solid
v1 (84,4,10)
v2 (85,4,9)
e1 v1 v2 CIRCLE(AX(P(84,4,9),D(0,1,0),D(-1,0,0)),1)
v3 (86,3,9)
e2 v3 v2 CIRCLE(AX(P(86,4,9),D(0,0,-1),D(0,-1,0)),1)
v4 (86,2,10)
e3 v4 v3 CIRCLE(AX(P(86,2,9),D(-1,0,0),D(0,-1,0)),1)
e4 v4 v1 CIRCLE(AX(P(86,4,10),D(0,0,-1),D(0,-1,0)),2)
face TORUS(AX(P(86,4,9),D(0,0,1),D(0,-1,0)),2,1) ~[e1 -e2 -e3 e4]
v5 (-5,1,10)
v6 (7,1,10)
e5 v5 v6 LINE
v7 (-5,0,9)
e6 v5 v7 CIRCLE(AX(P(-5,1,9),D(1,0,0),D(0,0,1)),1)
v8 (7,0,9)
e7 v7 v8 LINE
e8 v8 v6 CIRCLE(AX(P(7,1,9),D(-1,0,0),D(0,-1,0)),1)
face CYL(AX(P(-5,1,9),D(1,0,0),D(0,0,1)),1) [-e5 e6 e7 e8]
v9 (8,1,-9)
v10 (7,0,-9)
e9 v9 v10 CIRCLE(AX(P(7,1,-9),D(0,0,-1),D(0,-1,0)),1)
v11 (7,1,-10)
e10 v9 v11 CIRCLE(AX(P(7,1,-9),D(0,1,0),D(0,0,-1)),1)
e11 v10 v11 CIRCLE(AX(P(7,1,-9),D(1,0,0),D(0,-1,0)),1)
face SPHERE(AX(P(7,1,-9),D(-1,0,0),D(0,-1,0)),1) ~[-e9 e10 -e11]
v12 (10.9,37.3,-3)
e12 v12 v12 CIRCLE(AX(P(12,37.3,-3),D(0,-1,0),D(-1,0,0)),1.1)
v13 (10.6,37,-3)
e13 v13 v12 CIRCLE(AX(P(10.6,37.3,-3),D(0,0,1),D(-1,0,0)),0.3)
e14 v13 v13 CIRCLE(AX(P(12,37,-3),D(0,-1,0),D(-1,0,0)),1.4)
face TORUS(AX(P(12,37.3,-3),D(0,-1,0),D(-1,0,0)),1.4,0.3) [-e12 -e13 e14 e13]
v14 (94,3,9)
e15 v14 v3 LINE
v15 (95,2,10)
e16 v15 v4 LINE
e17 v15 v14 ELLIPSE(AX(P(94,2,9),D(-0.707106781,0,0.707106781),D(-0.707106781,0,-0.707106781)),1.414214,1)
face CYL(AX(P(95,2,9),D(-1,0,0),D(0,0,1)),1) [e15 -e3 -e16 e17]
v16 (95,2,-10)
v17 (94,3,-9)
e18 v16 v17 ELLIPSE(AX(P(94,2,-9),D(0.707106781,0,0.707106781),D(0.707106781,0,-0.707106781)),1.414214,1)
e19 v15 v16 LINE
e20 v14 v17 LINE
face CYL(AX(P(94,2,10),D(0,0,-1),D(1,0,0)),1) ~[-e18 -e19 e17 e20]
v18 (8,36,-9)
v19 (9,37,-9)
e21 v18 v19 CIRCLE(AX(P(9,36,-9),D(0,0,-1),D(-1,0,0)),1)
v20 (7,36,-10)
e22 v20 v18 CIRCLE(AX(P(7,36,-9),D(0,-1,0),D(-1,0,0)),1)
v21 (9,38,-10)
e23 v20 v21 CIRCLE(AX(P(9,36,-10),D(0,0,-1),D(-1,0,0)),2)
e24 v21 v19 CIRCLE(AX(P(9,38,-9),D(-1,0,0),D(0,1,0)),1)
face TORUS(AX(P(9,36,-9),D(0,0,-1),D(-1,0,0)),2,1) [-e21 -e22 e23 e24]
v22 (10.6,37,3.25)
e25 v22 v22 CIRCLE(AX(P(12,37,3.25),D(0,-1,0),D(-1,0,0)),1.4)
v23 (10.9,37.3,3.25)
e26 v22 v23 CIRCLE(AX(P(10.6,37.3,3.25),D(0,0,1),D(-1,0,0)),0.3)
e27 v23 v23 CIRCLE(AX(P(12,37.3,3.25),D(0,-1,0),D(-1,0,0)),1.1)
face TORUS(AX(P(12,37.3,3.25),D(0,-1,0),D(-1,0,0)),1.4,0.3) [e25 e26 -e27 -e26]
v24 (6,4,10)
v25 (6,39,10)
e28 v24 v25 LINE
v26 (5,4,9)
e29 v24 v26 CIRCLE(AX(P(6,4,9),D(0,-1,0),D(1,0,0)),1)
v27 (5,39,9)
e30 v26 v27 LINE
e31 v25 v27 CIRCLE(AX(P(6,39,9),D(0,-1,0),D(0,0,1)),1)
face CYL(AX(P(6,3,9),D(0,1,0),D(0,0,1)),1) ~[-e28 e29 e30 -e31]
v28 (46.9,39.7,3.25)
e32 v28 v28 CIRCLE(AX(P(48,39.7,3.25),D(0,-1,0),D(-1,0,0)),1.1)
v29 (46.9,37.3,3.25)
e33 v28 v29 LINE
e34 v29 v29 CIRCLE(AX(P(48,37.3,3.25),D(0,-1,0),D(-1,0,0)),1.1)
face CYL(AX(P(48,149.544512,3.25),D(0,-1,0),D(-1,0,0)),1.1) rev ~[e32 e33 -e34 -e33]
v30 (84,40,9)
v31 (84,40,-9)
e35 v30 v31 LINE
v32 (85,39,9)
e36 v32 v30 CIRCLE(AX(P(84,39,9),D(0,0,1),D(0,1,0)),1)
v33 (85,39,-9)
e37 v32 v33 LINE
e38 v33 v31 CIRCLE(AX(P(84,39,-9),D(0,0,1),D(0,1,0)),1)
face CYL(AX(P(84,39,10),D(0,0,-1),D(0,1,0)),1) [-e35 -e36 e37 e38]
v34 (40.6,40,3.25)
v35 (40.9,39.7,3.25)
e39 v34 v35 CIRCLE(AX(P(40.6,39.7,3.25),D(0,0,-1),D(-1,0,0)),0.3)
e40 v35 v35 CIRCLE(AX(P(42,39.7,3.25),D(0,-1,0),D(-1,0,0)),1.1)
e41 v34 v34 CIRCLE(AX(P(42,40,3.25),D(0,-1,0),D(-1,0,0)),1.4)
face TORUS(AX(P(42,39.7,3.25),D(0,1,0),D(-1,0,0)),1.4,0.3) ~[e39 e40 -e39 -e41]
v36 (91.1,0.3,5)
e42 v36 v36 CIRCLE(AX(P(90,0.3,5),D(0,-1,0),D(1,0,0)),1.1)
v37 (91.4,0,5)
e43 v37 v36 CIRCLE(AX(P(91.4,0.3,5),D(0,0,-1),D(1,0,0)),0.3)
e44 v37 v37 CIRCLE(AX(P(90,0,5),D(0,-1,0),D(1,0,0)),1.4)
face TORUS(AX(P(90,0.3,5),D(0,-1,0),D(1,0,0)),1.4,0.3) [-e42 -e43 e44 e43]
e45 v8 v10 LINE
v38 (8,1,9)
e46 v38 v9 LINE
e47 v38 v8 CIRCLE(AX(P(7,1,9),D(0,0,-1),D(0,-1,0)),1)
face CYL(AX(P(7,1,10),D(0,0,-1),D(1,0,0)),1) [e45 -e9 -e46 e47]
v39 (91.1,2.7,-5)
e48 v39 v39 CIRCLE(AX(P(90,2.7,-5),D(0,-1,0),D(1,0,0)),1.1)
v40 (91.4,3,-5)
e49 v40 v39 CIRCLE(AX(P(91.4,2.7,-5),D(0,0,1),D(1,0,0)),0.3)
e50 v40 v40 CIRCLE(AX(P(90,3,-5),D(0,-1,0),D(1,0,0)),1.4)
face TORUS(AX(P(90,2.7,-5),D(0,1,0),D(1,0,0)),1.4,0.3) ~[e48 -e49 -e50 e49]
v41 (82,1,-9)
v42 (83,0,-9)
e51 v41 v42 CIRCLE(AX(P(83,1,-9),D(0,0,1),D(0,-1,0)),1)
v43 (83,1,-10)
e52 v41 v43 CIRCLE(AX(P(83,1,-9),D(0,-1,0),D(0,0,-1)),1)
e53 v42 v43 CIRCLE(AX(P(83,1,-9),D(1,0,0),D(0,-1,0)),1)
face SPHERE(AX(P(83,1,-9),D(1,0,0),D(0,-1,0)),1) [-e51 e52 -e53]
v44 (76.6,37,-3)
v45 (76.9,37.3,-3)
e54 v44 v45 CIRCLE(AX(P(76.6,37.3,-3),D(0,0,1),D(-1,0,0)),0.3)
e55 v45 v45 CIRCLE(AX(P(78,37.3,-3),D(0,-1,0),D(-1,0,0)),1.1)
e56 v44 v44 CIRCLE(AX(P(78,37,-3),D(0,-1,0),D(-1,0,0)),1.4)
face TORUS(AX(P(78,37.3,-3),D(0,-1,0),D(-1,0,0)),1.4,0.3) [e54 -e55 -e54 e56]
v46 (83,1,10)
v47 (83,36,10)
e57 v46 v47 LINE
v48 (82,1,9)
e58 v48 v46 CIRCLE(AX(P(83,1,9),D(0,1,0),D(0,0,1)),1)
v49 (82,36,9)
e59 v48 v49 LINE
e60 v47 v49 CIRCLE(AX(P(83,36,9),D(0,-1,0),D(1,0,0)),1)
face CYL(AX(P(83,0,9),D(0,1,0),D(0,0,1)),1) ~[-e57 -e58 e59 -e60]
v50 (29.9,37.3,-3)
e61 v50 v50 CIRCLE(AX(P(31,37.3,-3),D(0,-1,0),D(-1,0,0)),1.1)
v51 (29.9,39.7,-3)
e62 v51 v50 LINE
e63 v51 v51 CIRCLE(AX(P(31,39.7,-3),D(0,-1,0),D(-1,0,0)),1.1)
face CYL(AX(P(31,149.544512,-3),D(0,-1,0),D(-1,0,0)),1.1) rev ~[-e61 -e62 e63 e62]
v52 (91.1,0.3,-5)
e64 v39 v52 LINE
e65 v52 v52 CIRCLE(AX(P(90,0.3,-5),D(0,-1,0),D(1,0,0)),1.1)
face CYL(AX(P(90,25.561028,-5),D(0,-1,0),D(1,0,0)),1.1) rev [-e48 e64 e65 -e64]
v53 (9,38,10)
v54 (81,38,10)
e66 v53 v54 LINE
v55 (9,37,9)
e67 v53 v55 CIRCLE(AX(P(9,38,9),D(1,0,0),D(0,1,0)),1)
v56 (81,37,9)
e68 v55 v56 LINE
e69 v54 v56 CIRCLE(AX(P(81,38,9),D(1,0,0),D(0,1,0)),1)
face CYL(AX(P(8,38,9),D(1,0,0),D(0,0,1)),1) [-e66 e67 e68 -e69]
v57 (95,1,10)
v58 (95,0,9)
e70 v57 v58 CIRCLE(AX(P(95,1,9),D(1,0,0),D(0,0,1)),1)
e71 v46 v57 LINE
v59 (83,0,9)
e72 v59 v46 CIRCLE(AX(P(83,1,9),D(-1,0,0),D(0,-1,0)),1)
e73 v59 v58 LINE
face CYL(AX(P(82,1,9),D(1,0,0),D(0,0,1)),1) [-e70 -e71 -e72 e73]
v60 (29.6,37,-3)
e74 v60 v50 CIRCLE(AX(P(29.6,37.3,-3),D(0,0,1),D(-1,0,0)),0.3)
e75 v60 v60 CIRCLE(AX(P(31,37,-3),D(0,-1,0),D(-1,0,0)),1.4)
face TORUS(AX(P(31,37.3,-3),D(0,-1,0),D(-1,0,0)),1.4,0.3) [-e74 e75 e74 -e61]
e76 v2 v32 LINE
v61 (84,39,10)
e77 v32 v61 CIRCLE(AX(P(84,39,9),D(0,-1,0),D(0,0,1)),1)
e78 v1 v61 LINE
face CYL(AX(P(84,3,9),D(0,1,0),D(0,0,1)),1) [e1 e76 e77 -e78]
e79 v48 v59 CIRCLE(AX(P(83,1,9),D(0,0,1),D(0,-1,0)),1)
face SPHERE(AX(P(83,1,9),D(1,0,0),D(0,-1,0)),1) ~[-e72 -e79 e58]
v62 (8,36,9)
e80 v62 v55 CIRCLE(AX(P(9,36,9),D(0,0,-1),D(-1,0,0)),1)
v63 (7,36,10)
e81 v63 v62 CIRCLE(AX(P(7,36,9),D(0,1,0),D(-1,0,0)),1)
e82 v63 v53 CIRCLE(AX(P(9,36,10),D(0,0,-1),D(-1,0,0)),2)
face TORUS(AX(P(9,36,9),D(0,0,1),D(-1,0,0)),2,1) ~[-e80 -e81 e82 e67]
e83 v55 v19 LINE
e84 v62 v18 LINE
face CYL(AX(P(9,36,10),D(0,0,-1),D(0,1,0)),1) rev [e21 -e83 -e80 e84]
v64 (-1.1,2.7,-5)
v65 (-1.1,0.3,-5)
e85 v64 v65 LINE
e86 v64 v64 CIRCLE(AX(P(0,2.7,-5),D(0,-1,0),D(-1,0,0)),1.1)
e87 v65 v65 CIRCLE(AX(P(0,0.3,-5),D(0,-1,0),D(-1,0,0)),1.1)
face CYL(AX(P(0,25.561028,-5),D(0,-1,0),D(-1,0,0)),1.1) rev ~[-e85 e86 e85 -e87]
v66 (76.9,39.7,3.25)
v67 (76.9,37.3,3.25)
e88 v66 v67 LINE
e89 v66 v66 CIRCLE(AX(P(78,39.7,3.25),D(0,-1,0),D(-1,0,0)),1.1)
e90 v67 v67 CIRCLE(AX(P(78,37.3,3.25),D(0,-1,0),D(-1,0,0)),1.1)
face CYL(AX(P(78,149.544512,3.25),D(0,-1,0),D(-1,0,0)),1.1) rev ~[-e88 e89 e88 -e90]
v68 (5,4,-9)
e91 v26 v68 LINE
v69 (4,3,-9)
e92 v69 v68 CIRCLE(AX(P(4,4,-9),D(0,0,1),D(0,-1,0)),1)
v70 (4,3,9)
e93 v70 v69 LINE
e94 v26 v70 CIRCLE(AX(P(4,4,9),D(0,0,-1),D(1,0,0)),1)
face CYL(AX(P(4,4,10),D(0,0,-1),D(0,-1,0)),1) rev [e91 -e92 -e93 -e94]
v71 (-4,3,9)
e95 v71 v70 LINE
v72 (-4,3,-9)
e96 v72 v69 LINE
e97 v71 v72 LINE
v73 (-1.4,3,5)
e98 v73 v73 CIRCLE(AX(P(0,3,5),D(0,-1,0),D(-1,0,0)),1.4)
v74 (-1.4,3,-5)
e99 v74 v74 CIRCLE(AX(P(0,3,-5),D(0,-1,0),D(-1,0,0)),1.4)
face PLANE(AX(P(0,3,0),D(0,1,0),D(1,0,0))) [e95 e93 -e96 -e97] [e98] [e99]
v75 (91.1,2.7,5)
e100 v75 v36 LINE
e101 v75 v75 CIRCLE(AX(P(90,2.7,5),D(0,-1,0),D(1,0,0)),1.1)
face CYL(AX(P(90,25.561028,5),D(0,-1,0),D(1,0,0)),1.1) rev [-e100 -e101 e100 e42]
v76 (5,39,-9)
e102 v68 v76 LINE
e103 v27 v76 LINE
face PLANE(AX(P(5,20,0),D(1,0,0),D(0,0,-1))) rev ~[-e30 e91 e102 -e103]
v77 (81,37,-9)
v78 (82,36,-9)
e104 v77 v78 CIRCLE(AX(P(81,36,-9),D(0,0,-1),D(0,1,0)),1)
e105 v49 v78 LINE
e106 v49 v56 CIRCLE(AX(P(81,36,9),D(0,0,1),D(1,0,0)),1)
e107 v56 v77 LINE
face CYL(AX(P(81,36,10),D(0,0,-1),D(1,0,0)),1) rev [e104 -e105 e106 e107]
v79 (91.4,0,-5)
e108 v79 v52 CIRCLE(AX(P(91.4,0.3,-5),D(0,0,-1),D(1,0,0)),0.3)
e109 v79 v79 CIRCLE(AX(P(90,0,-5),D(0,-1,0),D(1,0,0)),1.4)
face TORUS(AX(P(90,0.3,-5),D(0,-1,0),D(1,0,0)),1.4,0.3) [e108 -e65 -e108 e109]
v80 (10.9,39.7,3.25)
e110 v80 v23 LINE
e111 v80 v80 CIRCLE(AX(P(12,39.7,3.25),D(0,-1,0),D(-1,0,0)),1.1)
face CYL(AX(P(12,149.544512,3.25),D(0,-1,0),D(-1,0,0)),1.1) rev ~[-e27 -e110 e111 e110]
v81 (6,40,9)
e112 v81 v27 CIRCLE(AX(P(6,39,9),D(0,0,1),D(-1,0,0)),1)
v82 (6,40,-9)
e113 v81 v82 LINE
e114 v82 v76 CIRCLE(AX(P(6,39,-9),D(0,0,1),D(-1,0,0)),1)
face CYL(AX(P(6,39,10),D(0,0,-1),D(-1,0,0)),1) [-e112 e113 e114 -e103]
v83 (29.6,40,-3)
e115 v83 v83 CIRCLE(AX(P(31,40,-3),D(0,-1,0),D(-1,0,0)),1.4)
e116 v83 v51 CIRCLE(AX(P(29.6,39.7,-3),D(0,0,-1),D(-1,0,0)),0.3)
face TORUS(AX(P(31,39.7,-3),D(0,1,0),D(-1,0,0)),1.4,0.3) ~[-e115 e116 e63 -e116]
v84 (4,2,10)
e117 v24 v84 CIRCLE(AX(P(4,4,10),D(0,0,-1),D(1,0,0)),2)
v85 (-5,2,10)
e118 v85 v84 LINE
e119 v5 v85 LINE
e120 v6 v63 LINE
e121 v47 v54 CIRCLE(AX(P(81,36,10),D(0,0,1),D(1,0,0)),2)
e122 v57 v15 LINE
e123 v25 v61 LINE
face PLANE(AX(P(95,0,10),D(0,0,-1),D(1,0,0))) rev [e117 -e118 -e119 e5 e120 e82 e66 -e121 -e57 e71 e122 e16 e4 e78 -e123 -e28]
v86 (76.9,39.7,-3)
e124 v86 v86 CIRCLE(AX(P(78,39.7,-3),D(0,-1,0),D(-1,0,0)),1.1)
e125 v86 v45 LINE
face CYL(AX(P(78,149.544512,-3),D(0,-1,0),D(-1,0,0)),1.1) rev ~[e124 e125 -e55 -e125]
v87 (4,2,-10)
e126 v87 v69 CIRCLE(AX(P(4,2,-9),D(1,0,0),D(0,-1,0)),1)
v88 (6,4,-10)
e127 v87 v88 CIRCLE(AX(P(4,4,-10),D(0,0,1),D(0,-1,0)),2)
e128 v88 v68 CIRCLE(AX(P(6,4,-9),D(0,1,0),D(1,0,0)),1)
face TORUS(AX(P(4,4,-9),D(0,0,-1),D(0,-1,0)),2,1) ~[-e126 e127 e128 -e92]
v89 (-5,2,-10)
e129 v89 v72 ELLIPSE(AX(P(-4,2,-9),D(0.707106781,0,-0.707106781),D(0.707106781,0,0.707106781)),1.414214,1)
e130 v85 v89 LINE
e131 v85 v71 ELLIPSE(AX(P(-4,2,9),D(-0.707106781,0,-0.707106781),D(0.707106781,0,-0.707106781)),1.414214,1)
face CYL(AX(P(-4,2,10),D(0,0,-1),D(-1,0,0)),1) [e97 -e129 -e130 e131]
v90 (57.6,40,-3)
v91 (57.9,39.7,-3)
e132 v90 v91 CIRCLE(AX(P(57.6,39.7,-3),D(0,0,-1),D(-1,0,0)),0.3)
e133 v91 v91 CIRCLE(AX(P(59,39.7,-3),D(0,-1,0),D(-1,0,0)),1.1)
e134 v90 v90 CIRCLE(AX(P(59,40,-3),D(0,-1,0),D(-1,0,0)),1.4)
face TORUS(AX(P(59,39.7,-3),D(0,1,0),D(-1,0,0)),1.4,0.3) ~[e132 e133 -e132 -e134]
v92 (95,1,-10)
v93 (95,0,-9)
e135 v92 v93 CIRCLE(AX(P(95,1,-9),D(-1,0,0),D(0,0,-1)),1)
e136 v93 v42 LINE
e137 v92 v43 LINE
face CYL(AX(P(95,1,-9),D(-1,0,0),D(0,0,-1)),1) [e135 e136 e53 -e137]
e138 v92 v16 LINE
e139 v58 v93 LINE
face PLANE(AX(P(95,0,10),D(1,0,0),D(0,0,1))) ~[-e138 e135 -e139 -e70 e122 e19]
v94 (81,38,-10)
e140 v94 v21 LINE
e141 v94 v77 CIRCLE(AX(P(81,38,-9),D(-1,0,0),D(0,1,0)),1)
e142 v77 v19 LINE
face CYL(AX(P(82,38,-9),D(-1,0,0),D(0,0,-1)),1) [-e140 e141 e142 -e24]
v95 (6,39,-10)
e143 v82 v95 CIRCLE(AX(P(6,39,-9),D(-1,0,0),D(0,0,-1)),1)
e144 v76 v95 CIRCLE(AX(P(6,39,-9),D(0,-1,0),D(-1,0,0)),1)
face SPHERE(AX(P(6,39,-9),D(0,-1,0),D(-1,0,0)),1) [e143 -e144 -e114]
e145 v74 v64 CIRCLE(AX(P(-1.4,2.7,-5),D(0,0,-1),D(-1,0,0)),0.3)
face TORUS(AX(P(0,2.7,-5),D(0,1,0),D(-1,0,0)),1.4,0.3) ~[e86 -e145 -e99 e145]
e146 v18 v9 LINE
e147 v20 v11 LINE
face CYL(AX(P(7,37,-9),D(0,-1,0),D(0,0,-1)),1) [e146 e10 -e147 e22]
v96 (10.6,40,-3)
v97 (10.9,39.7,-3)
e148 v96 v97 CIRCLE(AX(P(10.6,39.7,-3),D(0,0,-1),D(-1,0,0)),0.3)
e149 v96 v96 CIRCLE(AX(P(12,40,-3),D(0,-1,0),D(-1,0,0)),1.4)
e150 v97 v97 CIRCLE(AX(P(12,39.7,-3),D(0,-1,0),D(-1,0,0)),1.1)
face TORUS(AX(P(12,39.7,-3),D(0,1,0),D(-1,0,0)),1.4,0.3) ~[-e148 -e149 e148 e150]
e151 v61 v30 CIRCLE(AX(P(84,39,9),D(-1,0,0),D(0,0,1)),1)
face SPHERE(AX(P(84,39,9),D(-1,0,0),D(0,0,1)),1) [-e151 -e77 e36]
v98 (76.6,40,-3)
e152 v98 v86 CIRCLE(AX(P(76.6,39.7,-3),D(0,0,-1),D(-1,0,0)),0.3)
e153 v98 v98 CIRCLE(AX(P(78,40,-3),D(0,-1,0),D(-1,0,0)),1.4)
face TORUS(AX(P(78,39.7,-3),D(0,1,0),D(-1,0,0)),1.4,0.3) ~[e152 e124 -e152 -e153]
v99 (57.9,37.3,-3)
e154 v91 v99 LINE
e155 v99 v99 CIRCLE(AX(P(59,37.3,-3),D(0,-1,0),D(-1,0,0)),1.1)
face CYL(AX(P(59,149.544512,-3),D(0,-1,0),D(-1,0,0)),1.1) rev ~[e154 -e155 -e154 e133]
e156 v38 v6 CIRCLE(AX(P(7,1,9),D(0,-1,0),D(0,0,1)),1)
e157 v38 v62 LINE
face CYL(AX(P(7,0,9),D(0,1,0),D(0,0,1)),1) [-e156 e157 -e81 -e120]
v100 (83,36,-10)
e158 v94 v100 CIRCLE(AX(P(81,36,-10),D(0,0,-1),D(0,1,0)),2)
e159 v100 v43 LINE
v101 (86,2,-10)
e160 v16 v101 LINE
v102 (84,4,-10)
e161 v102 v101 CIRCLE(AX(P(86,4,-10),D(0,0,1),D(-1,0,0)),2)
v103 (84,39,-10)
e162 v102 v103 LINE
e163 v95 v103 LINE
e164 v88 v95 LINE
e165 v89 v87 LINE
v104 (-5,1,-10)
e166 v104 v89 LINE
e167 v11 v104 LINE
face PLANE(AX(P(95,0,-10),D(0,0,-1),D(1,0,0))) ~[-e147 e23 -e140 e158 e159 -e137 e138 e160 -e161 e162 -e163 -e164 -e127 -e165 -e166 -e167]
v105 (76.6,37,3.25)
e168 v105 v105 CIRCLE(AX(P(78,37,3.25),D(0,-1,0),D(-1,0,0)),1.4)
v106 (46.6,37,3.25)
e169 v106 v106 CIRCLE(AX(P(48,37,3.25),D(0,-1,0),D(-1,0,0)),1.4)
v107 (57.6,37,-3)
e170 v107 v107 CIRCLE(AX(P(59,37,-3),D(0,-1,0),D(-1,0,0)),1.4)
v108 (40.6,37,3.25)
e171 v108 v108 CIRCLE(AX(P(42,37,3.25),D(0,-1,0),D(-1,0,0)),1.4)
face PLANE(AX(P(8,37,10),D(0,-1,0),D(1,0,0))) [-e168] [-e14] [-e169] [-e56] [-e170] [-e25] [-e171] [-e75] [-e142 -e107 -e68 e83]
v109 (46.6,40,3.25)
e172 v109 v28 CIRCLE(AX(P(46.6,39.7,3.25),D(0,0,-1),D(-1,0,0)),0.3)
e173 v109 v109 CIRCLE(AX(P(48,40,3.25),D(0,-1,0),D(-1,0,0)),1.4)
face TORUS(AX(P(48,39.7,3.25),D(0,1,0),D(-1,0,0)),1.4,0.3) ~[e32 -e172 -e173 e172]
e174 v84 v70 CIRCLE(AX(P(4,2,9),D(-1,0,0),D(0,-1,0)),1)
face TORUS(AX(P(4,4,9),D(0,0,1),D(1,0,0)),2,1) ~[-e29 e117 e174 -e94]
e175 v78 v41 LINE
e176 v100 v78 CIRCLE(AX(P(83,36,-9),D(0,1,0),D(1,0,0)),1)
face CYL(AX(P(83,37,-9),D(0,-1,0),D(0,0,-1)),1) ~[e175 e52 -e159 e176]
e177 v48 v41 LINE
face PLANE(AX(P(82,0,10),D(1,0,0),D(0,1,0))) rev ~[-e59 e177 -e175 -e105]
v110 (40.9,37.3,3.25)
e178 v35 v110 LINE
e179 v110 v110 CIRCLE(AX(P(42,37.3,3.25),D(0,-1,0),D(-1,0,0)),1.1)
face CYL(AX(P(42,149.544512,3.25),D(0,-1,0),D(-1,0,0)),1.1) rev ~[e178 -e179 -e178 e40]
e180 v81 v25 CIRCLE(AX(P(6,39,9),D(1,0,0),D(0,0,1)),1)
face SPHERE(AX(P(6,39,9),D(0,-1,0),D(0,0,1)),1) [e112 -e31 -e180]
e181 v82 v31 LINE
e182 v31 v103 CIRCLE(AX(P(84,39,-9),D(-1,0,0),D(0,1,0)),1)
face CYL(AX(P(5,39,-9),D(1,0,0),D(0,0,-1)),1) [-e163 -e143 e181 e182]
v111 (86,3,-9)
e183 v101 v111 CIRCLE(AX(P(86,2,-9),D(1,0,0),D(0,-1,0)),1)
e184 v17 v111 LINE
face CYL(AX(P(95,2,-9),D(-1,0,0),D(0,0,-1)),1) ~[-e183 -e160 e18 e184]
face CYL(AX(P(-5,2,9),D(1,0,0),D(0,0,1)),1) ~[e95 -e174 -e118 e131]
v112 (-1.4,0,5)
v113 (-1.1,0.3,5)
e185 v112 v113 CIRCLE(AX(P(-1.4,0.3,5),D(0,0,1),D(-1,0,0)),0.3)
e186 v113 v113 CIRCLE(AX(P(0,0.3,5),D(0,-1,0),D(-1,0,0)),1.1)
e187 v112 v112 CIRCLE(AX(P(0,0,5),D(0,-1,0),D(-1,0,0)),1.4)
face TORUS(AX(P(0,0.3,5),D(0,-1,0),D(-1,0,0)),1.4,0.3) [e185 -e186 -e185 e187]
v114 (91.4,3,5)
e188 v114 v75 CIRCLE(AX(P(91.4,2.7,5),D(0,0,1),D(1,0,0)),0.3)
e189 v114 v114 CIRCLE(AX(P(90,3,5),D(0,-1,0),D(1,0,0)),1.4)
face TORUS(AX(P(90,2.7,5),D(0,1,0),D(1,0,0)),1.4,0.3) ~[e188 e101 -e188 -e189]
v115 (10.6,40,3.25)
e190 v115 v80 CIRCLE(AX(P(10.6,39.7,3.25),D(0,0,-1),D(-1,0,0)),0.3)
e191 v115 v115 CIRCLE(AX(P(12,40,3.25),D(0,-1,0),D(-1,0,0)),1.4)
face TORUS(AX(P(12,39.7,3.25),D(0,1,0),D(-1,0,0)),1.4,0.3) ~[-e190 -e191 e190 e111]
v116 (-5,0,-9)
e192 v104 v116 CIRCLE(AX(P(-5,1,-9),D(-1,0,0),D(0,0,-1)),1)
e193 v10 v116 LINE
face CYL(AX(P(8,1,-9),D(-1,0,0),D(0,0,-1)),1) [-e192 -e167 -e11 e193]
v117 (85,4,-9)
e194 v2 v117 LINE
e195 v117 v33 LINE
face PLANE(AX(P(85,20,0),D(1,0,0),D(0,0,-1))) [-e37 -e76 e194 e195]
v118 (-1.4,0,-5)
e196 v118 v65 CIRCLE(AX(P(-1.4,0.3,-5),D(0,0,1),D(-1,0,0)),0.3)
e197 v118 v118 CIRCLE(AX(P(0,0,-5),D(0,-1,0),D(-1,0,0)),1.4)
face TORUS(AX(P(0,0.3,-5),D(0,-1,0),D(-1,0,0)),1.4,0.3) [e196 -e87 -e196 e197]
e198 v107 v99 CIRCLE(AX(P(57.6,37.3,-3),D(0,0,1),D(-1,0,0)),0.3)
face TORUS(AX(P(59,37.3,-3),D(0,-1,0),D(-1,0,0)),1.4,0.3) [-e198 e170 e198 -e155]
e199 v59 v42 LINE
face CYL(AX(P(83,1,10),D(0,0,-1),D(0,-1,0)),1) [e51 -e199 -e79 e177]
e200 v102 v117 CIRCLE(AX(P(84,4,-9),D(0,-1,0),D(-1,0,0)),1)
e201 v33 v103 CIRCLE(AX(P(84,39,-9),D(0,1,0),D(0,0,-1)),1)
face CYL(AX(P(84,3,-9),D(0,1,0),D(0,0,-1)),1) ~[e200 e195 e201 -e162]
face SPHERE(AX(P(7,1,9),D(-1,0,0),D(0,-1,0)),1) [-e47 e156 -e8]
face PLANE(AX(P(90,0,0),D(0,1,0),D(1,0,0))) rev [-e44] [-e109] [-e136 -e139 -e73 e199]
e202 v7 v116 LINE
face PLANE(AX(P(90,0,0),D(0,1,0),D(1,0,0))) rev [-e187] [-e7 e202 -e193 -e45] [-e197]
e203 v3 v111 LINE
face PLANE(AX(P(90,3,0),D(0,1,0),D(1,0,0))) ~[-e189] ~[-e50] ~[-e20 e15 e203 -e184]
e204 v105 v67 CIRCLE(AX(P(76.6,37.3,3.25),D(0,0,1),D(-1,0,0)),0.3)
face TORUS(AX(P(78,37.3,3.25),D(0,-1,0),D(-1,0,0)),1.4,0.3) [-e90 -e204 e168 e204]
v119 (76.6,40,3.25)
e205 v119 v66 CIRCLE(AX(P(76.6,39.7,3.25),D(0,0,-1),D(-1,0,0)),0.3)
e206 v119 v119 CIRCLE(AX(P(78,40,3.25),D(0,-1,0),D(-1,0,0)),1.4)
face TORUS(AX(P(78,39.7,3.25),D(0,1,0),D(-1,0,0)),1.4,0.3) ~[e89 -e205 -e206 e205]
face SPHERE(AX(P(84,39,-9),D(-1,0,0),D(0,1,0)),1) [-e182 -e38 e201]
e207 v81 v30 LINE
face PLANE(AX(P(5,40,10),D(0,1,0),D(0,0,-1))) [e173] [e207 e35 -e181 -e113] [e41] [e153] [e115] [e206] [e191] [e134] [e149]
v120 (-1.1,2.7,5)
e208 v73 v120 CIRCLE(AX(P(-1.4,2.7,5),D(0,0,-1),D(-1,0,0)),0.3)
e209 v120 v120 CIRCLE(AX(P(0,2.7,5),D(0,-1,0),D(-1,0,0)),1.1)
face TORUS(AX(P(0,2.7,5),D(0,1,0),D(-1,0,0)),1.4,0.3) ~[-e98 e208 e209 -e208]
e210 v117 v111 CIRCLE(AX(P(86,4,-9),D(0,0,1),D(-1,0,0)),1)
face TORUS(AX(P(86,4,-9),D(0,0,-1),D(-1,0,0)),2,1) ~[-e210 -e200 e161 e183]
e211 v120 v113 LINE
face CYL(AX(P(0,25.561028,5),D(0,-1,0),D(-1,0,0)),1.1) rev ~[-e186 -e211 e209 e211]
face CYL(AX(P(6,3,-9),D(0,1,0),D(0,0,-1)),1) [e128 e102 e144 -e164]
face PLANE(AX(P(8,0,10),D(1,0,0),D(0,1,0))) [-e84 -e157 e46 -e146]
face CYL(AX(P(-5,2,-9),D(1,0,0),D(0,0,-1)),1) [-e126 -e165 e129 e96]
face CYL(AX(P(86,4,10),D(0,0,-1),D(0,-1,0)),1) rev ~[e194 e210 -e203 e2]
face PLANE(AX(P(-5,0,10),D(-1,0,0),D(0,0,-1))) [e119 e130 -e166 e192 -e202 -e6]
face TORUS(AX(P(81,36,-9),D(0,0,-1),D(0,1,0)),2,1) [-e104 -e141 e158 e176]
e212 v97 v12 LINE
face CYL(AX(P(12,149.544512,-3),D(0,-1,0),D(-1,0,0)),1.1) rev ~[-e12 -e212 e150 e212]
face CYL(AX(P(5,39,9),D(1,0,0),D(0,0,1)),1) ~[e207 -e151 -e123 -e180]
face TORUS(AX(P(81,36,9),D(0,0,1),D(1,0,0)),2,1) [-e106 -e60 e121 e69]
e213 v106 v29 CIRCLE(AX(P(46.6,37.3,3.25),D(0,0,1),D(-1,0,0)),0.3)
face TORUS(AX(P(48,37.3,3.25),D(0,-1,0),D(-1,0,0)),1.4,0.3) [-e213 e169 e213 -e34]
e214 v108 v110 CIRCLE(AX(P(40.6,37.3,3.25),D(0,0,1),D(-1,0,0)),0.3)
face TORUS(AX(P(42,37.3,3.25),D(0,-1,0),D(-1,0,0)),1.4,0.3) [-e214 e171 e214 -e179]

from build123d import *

# Parameters (mm, degrees)
SKETCH_1_W                 = 10
SKETCH_1_H                 = 20
EXTRUDE_1_DEPTH            = 3
F_2_2_2_2_DIAMETER_HOLE2_D = 2.2
SKETCH_5_W                 = 20
SKETCH_5_H                 = 40
EXTRUDE_2_DEPTH            = 80
CUT_EXTRUDE_1_REACH        = 107
SKETCH_6_W                 = 74
SKETCH_6_H                 = 37
F_2_2_2_2_DIAMETER_HOLE3_D = 2.2
FILLET_1_R                 = 1
FILLET_2_R                 = 0.3


with BuildPart() as part:
    # 草图1 → 凸台-拉伸1 (new body)
    with BuildSketch(Plane(origin=(0, 0, 0), x_dir=(1, 0, 0), z_dir=(0, 1, 0))):
        Rectangle(SKETCH_1_W, SKETCH_1_H)
    extrude_1 = extrude(amount=EXTRUDE_1_DEPTH)

    # Ø2.2 (2.2) Diameter Hole2 (through all)
    with Locations(Plane(origin=(0, 3, 0), x_dir=(1, 0, 0), z_dir=(0, 1, 0))):
        with Locations((0, 5), (0, -5)):
            f_2_2_2_2_diameter_hole2 = Hole(F_2_2_2_2_DIAMETER_HOLE2_D / 2)

    # 草图5 → 凸台-拉伸2 (add)
    with BuildSketch(Plane(origin=(5, 0, 0), x_dir=(0, 0, -1), z_dir=(1, 0, 0))):
        with Locations((0, 20)):
            Rectangle(SKETCH_5_W, SKETCH_5_H)
    extrude(amount=EXTRUDE_2_DEPTH)

    # 镜向1: 凸台-拉伸1, Ø2.2 (2.2) Diameter Hole2 across plane
    add(extrude_1.mirror(Plane.ZY.offset(-45)))
    add(f_2_2_2_2_diameter_hole2.mirror(Plane.ZY.offset(-45)), mode=Mode.SUBTRACT)

    # 草图6 → 切除-拉伸1 (cut, up to next)
    with BuildSketch(Plane.XY.offset(10), mode=Mode.PRIVATE) as cut_extrude_1_sk1:
        with Locations((45, 18.5)):
            Rectangle(SKETCH_6_W, SKETCH_6_H)
    cut_extrude_1_tool1 = extrude(cut_extrude_1_sk1.sketch, amount=-CUT_EXTRUDE_1_REACH, mode=Mode.PRIVATE) & part.part
    add(cut_extrude_1_tool1.solids().sort_by_distance((45, 18.5, 10))[0], mode=Mode.SUBTRACT)

    # Ø2.2 (2.2) Diameter Hole3 (through all)
    with Locations(Plane(origin=(0, 40, 0), x_dir=(1, 0, 0), z_dir=(0, 1, 0))):
        with Locations((12, -3.25), (78, -3.25), (48, -3.25), (42, -3.25), (78, 3), (12, 3), (31, 3), (59, 3)):
            Hole(F_2_2_2_2_DIAMETER_HOLE3_D / 2)

    # 圆角1
    fillet_1_edges = [part.edges().sort_by_distance(p)[0] for p in [
        (5, 3, 0),
        (0, 3, -10),
        (5, 21.5, 10),
        (45, 40, 10),
        (5, 21.5, -10),
        (5, 40, 0),
        (45, 40, -10),
        (85, 21.5, 10),
        (85, 40, 0),
        (85, 21.5, -10),
        (95, 3, 0),
        (90, 3, -10),
        (85, 3, 0),
        (90, 3, 10),
        (-5, 3, 0),
        (88.5, 0, -10),
        (1.5, 0, 10),
        (1.5, 0, -10),
        (88.5, 0, 10),
        (8, 0, 0),
        (8, 37, 0),
        (82, 37, 0),
        (82, 0, 0),
        (8, 18.5, 10),
        (82, 18.5, 10),
        (45, 37, 10),
        (8, 18.5, -10),
        (45, 37, -10),
        (82, 18.5, -10),
        (0, 3, 10),
    ]]
    fillet(fillet_1_edges, radius=FILLET_1_R)

    # 圆角2
    fillet_2_edges = [part.edges().sort_by_distance(p)[0] for p in [
        (13.1, 40, -3),
        (13.1, 37, -3),
        (79.1, 40, -3),
        (79.1, 37, -3),
        (43.1, 40, 3.25),
        (43.1, 37, 3.25),
        (49.1, 40, 3.25),
        (49.1, 37, 3.25),
        (79.1, 40, 3.25),
        (79.1, 37, 3.25),
        (13.1, 40, 3.25),
        (13.1, 37, 3.25),
        (1.1, 3, 5),
        (1.1, 0, 5),
        (1.1, 3, -5),
        (1.1, 0, -5),
        (88.9, 3, 5),
        (88.9, 0, 5),
        (88.9, 3, -5),
        (88.9, 0, -5),
        (60.1, 40, -3),
        (60.1, 37, -3),
        (32.1, 40, -3),
        (32.1, 37, -3),
    ]]
    fillet(fillet_2_edges, radius=FILLET_2_R)


solid = part.part
